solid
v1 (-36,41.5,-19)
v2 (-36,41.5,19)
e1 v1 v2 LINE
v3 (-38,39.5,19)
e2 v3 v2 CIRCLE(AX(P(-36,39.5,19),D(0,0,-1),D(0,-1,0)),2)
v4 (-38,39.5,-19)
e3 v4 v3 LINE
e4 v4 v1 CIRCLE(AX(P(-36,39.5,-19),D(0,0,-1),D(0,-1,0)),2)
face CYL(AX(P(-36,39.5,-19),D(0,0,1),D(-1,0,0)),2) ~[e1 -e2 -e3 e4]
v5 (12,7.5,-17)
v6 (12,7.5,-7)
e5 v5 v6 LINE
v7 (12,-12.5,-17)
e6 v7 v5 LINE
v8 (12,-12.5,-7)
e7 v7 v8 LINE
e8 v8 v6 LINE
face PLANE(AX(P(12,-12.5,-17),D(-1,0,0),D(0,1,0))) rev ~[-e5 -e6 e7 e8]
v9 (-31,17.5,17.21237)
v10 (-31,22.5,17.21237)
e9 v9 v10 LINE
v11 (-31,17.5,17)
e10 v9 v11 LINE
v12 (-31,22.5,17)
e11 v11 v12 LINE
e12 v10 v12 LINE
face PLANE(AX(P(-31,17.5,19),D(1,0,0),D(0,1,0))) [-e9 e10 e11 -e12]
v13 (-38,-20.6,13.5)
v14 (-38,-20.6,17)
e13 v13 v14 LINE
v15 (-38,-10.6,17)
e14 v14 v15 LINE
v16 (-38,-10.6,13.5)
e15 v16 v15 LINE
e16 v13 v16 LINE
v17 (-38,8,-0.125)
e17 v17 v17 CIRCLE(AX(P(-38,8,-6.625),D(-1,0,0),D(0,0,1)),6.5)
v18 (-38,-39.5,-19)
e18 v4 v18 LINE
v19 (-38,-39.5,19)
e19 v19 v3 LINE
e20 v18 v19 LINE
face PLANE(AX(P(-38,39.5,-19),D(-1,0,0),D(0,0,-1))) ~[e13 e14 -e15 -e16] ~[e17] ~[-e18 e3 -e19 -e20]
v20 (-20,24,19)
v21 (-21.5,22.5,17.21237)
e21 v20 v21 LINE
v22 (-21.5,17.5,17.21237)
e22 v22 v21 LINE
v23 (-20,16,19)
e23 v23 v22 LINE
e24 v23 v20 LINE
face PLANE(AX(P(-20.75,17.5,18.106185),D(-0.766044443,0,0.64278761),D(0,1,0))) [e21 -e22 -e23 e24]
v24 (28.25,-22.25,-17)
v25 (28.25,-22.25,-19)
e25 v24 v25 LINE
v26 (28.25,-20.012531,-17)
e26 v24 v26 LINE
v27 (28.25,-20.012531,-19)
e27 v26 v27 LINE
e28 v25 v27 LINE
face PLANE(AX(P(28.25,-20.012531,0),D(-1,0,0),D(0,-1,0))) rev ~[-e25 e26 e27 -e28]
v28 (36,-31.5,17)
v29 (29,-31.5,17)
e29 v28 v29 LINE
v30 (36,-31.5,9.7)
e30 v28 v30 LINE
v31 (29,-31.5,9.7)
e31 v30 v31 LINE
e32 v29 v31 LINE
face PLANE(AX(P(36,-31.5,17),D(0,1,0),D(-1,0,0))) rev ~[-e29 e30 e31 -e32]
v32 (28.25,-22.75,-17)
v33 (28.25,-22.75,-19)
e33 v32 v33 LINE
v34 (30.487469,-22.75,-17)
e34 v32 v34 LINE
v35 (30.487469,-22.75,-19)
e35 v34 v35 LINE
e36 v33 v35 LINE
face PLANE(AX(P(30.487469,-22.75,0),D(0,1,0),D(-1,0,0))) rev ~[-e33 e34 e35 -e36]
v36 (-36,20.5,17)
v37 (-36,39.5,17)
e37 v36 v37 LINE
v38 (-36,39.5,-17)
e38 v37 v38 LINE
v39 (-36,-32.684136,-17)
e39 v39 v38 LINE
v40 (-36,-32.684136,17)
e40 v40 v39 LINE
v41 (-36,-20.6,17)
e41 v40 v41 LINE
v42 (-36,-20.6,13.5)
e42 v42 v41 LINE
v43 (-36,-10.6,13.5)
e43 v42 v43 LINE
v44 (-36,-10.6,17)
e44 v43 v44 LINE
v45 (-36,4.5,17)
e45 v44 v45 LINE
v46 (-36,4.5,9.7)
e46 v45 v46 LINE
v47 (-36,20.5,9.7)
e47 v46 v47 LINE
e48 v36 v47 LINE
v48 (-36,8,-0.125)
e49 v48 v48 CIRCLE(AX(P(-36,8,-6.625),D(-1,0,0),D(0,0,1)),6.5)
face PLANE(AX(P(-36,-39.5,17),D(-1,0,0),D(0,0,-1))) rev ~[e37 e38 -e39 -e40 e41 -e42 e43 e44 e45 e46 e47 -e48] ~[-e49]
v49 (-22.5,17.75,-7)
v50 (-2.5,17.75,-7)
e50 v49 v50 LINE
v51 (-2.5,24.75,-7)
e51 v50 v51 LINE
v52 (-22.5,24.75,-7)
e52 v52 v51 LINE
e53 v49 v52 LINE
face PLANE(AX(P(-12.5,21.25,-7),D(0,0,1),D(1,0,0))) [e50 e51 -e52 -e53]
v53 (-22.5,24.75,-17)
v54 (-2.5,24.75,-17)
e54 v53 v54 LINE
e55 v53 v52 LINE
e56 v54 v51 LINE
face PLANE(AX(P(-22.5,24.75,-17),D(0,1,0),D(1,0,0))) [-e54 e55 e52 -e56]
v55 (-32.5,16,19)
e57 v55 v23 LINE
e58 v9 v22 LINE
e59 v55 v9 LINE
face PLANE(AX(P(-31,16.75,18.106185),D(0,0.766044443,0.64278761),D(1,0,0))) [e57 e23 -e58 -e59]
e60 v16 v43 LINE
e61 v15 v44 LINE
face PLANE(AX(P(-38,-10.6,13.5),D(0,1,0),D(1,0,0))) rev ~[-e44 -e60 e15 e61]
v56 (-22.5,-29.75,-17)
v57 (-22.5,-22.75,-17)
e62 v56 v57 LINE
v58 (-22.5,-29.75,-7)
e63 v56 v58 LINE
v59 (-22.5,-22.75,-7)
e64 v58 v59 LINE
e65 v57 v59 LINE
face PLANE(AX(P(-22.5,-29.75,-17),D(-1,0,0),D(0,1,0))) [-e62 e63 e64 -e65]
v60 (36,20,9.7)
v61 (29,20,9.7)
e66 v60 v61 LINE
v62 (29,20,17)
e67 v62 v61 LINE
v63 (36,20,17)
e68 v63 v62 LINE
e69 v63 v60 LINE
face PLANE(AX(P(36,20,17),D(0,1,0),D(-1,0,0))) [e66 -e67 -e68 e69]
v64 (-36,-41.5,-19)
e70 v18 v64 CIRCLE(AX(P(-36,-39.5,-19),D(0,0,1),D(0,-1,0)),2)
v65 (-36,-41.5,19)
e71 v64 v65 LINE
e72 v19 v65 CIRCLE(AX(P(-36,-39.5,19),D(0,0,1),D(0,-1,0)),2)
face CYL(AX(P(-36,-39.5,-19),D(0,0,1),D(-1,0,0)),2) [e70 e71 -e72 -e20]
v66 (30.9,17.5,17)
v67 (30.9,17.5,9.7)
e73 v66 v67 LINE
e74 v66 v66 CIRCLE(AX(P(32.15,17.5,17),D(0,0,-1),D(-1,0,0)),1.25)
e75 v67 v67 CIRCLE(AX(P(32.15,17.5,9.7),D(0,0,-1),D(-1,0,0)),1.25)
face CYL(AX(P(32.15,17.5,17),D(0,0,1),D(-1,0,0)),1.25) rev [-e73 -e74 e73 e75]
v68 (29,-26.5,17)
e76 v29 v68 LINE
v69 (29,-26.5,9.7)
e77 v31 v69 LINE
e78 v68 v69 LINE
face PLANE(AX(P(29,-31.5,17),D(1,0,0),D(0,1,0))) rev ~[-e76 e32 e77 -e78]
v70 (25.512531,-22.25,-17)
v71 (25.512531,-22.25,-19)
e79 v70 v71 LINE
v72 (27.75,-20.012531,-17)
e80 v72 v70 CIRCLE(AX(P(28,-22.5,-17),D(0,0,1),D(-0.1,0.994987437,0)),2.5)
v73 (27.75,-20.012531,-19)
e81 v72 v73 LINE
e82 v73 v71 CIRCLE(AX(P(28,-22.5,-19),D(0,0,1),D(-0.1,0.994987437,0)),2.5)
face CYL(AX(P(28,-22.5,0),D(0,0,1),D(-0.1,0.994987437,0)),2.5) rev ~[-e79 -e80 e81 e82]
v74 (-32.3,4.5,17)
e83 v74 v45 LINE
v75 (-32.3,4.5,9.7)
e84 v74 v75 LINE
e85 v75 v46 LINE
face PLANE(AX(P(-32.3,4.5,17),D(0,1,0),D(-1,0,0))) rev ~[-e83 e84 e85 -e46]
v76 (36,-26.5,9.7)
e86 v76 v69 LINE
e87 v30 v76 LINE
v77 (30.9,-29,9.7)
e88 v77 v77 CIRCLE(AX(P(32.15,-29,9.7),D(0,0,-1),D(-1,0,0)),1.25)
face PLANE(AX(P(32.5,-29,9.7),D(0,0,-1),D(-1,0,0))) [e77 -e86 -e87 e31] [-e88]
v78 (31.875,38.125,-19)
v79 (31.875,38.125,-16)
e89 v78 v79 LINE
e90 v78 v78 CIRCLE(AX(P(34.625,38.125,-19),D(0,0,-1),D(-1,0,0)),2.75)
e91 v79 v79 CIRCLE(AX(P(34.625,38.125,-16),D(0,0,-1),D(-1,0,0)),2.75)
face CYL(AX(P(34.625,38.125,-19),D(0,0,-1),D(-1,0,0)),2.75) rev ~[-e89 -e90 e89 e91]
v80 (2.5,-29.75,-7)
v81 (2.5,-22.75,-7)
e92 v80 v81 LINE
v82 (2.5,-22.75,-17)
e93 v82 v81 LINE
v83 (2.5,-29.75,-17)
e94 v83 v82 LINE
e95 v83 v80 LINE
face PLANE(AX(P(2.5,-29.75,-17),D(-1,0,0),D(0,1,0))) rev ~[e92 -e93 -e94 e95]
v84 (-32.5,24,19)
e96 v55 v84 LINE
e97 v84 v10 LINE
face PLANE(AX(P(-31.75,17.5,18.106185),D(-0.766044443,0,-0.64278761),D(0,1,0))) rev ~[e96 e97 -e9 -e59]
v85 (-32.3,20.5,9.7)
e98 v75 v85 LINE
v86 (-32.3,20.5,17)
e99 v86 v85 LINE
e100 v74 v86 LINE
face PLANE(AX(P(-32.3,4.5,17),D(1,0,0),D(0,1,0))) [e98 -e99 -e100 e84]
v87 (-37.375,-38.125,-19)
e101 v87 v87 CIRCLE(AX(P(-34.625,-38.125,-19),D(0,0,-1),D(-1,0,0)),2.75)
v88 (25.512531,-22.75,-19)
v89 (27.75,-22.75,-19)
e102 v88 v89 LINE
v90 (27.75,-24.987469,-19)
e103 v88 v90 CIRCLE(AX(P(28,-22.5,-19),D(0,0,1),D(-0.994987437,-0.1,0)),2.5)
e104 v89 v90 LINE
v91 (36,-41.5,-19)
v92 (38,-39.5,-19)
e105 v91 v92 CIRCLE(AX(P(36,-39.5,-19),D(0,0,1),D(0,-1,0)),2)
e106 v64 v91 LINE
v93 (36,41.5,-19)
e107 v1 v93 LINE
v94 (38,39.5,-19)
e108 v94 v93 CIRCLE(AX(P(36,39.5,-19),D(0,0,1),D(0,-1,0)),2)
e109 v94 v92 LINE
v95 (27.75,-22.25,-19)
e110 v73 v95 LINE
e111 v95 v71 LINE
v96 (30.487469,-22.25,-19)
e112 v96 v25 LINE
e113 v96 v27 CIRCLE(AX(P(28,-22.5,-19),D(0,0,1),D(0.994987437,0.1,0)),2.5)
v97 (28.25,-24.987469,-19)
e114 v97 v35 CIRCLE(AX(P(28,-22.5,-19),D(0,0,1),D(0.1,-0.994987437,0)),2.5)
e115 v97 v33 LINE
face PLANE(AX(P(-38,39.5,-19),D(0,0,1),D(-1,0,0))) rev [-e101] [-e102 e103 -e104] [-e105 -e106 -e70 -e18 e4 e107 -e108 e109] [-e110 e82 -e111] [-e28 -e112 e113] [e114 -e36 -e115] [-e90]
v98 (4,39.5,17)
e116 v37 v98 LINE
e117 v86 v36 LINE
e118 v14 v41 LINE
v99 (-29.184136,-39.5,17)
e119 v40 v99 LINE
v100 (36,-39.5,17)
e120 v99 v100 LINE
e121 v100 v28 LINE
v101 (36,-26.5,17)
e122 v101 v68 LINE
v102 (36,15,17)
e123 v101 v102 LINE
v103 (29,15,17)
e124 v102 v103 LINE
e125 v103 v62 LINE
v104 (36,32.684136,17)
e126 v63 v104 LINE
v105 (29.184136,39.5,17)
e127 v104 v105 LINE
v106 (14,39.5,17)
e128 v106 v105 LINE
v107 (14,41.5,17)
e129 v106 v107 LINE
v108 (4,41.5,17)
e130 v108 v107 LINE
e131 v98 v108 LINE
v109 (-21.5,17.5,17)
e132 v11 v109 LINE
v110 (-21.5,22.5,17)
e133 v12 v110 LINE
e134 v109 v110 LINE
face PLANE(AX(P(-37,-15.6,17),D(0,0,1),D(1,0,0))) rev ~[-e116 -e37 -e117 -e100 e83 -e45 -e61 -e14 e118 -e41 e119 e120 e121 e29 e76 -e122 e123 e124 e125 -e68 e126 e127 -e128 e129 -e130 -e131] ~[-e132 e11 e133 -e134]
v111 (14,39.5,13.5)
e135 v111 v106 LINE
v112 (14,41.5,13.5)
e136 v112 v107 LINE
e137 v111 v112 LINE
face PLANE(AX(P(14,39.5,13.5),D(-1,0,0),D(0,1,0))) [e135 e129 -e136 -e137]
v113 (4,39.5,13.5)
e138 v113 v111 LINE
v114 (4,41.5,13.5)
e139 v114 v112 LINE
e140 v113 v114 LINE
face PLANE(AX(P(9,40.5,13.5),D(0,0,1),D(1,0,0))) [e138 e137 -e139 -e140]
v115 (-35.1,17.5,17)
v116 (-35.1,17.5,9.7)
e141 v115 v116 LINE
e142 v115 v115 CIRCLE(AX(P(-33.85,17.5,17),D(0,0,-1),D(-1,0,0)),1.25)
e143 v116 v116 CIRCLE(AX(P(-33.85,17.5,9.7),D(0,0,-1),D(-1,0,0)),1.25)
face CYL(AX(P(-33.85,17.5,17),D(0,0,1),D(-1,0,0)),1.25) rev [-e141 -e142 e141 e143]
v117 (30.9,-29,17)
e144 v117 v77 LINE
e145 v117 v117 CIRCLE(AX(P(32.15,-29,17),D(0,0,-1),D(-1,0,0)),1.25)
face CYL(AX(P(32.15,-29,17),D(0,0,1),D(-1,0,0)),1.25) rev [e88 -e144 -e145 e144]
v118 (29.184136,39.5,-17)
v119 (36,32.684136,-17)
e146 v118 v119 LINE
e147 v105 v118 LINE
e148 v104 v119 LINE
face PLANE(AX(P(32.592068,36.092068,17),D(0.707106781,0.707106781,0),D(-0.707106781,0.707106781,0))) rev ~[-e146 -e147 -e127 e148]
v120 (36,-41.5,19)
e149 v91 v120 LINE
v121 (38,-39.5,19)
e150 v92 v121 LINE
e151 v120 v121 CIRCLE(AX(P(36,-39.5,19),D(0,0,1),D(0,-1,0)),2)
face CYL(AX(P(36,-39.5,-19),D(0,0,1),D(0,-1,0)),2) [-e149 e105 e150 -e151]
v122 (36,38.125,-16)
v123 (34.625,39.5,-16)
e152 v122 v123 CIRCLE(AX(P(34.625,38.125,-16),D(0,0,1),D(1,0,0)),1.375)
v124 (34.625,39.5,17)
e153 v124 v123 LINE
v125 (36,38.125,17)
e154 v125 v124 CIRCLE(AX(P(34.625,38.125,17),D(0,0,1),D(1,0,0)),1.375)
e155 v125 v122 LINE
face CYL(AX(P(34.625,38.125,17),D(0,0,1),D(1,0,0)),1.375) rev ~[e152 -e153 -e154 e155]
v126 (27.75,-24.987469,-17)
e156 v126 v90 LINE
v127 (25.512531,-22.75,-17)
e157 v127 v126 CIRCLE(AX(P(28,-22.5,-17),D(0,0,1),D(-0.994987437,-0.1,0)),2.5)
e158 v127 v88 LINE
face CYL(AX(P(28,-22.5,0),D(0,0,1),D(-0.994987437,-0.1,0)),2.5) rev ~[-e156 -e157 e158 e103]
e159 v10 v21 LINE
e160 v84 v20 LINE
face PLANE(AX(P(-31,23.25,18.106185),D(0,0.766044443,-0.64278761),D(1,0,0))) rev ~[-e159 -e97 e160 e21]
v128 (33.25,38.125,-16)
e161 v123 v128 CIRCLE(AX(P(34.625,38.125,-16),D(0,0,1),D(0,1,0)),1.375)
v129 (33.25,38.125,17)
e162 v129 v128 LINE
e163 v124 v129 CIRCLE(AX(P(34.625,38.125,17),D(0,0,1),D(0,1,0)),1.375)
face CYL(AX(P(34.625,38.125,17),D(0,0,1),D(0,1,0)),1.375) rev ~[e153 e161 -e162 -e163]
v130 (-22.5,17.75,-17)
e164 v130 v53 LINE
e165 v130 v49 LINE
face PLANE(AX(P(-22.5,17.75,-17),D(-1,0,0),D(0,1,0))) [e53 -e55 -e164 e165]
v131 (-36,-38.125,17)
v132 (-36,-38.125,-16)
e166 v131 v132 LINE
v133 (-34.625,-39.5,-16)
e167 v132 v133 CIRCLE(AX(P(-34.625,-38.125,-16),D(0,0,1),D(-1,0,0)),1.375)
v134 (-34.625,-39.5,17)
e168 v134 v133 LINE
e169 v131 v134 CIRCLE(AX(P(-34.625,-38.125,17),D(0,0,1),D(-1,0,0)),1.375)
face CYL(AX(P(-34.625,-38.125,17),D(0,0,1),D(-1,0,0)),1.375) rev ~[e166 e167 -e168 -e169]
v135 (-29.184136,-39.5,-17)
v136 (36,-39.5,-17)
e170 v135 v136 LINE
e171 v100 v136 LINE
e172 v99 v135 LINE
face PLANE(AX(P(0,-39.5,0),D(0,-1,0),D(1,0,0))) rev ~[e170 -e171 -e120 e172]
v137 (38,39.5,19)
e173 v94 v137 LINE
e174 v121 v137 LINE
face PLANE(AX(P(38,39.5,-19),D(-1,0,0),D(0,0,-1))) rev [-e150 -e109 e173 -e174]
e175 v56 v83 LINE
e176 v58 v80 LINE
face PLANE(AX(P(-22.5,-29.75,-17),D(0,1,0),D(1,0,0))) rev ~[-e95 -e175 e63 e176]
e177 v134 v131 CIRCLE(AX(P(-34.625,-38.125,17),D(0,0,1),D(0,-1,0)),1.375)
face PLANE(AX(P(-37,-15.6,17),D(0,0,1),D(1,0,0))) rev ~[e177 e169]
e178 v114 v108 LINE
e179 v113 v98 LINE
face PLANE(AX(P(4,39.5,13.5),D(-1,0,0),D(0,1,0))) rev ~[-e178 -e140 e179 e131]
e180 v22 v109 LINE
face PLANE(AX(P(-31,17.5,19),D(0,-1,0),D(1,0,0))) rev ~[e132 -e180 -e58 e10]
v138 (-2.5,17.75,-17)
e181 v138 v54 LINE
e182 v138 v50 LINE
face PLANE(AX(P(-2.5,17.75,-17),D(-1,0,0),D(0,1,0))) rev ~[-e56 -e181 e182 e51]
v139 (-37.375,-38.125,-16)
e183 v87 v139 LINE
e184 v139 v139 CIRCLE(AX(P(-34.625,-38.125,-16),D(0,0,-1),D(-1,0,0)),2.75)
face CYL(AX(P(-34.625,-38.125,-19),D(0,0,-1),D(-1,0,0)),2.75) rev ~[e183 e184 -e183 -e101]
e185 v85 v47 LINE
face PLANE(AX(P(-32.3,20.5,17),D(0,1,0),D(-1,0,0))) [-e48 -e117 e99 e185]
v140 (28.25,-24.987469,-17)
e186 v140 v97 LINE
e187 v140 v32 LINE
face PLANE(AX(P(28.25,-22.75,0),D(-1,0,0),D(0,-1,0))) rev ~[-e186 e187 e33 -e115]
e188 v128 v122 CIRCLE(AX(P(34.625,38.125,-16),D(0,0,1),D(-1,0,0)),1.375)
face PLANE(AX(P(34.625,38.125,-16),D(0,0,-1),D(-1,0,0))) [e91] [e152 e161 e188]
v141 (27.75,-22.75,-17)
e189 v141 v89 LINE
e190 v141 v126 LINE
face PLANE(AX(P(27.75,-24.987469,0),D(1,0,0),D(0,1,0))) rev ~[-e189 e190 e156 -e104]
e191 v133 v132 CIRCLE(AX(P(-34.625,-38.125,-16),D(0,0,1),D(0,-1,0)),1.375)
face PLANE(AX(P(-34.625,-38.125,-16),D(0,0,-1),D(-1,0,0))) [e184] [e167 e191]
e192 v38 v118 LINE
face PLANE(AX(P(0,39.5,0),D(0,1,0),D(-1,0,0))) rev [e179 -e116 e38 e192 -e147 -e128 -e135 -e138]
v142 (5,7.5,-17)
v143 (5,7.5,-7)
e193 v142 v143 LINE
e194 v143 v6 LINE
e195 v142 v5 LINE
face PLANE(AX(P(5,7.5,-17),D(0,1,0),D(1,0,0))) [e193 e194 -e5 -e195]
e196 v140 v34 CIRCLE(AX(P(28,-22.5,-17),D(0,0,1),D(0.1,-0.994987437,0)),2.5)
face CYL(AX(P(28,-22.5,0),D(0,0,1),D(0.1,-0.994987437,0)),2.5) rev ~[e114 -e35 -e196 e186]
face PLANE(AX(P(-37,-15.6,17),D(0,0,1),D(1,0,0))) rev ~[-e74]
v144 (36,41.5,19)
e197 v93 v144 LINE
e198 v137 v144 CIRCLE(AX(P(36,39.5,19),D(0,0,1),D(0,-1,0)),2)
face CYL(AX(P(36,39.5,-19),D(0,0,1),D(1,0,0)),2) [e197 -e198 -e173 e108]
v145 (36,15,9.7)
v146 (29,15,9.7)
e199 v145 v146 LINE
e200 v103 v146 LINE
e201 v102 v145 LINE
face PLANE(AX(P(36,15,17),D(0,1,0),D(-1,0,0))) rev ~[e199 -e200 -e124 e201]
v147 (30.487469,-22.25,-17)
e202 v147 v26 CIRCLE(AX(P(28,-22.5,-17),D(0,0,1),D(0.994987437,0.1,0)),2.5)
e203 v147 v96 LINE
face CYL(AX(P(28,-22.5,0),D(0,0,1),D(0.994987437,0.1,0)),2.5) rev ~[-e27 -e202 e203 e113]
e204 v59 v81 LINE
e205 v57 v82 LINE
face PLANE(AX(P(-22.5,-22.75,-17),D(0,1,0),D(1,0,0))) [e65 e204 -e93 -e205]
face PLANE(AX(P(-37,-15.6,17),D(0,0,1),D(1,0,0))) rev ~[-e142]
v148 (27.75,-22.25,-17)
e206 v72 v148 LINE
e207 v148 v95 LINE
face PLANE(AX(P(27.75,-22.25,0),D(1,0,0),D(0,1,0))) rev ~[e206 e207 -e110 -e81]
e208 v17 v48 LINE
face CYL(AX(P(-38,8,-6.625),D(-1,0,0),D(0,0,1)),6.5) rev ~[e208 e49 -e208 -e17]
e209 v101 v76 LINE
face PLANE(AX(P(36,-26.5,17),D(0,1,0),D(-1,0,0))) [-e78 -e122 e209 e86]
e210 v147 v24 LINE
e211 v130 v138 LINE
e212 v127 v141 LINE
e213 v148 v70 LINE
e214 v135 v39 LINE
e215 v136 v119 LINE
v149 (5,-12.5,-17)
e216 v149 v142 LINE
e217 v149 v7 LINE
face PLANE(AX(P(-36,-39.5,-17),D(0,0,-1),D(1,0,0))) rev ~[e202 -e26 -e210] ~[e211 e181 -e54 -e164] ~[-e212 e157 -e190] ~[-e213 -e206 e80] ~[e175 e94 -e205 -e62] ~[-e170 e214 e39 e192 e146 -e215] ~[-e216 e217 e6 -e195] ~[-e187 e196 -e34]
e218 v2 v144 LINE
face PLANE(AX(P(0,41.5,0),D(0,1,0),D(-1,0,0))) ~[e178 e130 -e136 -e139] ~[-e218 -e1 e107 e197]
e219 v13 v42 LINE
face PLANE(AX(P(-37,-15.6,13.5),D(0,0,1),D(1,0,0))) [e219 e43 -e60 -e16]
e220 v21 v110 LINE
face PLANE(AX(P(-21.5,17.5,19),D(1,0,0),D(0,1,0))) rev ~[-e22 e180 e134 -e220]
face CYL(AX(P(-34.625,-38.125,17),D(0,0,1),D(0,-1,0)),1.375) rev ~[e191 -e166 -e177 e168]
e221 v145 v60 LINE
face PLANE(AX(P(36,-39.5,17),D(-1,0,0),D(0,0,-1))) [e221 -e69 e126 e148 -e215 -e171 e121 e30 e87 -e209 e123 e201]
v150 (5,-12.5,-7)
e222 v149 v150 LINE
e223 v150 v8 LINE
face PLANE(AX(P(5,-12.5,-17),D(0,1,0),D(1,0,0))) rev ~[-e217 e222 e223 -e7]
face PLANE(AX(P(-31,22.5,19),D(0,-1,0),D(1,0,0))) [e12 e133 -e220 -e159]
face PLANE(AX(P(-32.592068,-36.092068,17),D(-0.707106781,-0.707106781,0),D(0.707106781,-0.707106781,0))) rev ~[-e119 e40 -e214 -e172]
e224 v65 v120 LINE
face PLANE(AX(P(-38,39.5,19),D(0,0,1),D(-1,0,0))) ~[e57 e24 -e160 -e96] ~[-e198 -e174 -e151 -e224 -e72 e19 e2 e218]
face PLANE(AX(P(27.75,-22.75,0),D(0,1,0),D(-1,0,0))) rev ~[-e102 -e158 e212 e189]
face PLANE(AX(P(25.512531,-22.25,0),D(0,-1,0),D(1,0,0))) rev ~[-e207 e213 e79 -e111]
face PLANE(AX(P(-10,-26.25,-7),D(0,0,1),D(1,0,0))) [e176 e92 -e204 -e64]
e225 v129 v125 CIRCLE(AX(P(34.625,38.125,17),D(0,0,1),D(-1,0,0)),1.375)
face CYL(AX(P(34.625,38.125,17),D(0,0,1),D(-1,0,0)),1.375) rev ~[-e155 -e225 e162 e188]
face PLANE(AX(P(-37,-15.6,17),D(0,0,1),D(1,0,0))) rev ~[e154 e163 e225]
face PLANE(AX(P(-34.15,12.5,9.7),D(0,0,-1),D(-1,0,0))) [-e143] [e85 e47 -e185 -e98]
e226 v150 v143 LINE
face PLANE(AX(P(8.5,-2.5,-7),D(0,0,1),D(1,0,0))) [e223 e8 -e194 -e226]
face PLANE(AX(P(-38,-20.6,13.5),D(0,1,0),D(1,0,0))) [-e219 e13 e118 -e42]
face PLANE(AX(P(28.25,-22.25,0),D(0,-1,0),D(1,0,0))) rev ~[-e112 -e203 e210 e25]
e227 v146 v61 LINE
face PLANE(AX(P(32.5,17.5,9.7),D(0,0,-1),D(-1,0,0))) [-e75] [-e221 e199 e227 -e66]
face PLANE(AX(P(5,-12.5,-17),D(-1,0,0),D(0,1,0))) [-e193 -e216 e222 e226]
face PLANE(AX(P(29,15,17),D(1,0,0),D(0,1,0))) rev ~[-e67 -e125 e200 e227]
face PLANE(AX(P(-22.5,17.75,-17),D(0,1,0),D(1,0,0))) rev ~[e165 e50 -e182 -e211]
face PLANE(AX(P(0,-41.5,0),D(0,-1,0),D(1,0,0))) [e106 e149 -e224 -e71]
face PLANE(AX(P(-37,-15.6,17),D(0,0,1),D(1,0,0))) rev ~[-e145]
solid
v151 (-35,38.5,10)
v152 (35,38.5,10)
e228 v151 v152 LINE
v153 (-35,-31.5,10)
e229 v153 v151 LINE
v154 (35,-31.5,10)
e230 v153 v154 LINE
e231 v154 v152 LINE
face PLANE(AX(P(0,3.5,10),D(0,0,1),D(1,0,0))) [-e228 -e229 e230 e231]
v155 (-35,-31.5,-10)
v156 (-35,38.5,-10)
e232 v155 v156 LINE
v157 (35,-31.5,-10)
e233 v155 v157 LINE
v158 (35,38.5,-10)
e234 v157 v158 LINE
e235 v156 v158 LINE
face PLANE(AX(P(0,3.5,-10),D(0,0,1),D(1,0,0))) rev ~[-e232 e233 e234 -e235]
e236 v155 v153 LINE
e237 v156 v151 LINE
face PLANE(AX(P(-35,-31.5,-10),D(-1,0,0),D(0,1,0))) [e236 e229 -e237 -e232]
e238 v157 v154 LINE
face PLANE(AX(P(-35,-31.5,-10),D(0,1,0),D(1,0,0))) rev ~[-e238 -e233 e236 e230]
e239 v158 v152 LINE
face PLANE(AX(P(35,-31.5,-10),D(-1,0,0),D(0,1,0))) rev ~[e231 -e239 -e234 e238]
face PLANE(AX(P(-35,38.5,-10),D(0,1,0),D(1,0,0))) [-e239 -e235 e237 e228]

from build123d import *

# Parameters (mm, degrees)
BOSS_EXTRUDE2_DEPTH      = 39.5
BOSS_EXTRUDE2_DEPTH_BACK = 39.5
SKETCH1_W                = 76
SKETCH1_H                = 38
SKETCH1_W_2              = 72
SKETCH1_H_2              = 34
SKETCH2_W                = 76
SKETCH2_H                = 38
BOSS_EXTRUDE3_DEPTH      = 2
BOSS_EXTRUDE4_DEPTH      = 10
BOSS_EXTRUDE4_DEPTH_BACK = 10
SKETCH6_W                = 70
SKETCH6_H                = 70
FILLET1_R                = 2
CUT_EXTRUDE1_DEPTH       = 1
CUT_EXTRUDE1_DEPTH_BACK  = 2.5
SKETCH7_W                = 2
SKETCH7_H                = 10
SKETCH7_W_2              = 10
SKETCH7_H_2              = 2
SKETCH8_R                = 6.5
CUT_EXTRUDE2_DEPTH       = 2
SKETCH9_W                = 20
SKETCH9_H                = 7
SKETCH9_W_2              = 25
SKETCH9_W_3              = 7
SKETCH9_H_2              = 20
BOSS_EXTRUDE5_DEPTH      = 10
SKETCH10_W               = 9.5
SKETCH10_H               = 5
CUT_EXTRUDE3_DEPTH       = 2
CHAMFER1_SIZE            = 1.5
CHAMFER1_SIZE2           = 1.787630389
SKETCH11_W               = 3.7
SKETCH11_H               = 16
SKETCH11_R               = 1.25
SKETCH11_W_2             = 7
SKETCH11_H_2             = 5
BOSS_EXTRUDE10_DEPTH     = 7.3
CUT_EXTRUDE6_DEPTH       = 60.390655831
BOSS_EXTRUDE11_REACH     = 68.8
SKETCH17_R               = 2.75
CUT_EXTRUDE9_DEPTH       = 3


with BuildPart() as part:
    # Sketch1 → Boss-Extrude2 (new, two sides: drawn at the far end of the back side and taken through both)
    with BuildSketch(Plane(origin=(0, 0, 0), x_dir=(1, 0, 0), z_dir=(0, 1, 0)).offset(-BOSS_EXTRUDE2_DEPTH_BACK)):
        Rectangle(SKETCH1_W, SKETCH1_H)
        Rectangle(SKETCH1_W_2, SKETCH1_H_2, mode=Mode.SUBTRACT)
    extrude(amount=BOSS_EXTRUDE2_DEPTH + BOSS_EXTRUDE2_DEPTH_BACK)

    # Sketch2 → Boss-Extrude3 (add)
    with BuildSketch(Plane.XZ.offset(39.5)):
        Rectangle(SKETCH2_W, SKETCH2_H)
    boss_extrude3 = extrude(amount=BOSS_EXTRUDE3_DEPTH)

    # Mirror1: Boss-Extrude3 across plane
    add(boss_extrude3.mirror(Plane.ZX))

    # Fillet1
    fillet1_edges = [part.edges().sort_by_distance(p)[0] for p in [
        (38, -41.5, 0),
        (-38, -41.5, 0),
        (38, 41.5, 0),
        (-38, 41.5, 0),
    ]]
    fillet(fillet1_edges, radius=FILLET1_R)

    # Sketch7 → Cut-Extrude1 (cut, two sides: drawn at the far end of the back side and taken through both)
    with BuildSketch(Plane.XY.offset(16).offset(-CUT_EXTRUDE1_DEPTH_BACK)):
        with Locations((-37, -15.6)):
            Rectangle(SKETCH7_W, SKETCH7_H)
        with Locations((9, 40.5)):
            Rectangle(SKETCH7_W_2, SKETCH7_H_2)
    extrude(amount=CUT_EXTRUDE1_DEPTH + CUT_EXTRUDE1_DEPTH_BACK, mode=Mode.SUBTRACT)

    # Sketch8 → Cut-Extrude2 (cut)
    with BuildSketch(Plane.ZY.offset(38)):
        with Locations((-6.625, 8)):
            Circle(SKETCH8_R)
    extrude(amount=-CUT_EXTRUDE2_DEPTH, mode=Mode.SUBTRACT)

    # Sketch9 → Boss-Extrude5 (add)
    with BuildSketch(Plane.XY.offset(-17)):
        with Locations((-12.5, 21.25)):
            Rectangle(SKETCH9_W, SKETCH9_H)
        with Locations((-10, -26.25)):
            Rectangle(SKETCH9_W_2, SKETCH9_H)
        with Locations((8.5, -2.5)):
            Rectangle(SKETCH9_W_3, SKETCH9_H_2)
    extrude(amount=BOSS_EXTRUDE5_DEPTH)

    # Sketch10 → Cut-Extrude3 (cut)
    with BuildSketch(Plane.XY.offset(19)):
        with Locations((-26.25, 20)):
            Rectangle(SKETCH10_W, SKETCH10_H)
    extrude(amount=-CUT_EXTRUDE3_DEPTH, mode=Mode.SUBTRACT)

    # Chamfer1
    chamfer1_edges = [part.edges().sort_by_distance(p)[0] for p in [
        (-21.5, 20, 19),
        (-26.25, 22.5, 19),
        (-31, 20, 19),
        (-26.25, 17.5, 19),
    ]]
    chamfer1_side = [part.faces().sort_by_distance(p)[0] for p in [
        (0.199274696, -0.15182834, 19),
    ]]
    chamfer(chamfer1_edges, length=CHAMFER1_SIZE, length2=CHAMFER1_SIZE2, reference=chamfer1_side[0])

    # Sketch11 → Boss-Extrude10 (add)
    # profile 1 of 3: a face of its own
    with BuildSketch(Plane(origin=(0, 0, 17), x_dir=(-1, 0, 0), z_dir=(0, 0, -1))):
        with Locations((34.15, 12.5)):
            Rectangle(SKETCH11_W, SKETCH11_H)
        with Locations((33.85, 17.5)):
            Circle(SKETCH11_R, mode=Mode.SUBTRACT)
    # profile 2 of 3: a face of its own
    with BuildSketch(Plane(origin=(0, 0, 17), x_dir=(-1, 0, 0), z_dir=(0, 0, -1))):
        with Locations((-32.5, 17.5)):
            Rectangle(SKETCH11_W_2, SKETCH11_H_2)
        with Locations((-32.15, 17.5)):
            Circle(SKETCH11_R, mode=Mode.SUBTRACT)
    # profile 3 of 3: a face of its own
    with BuildSketch(Plane(origin=(0, 0, 17), x_dir=(-1, 0, 0), z_dir=(0, 0, -1))):
        with Locations((-32.5, -29)):
            Rectangle(SKETCH11_W_2, SKETCH11_H_2)
        with Locations((-32.15, -29)):
            Circle(SKETCH11_R, mode=Mode.SUBTRACT)
    extrude(amount=BOSS_EXTRUDE10_DEPTH)

    # Sketch15 → Cut-Extrude6 (cut, through all)
    with BuildSketch(Plane.XY):
        with BuildLine():
            Line((28.25, -22.25), (30.487468593, -22.25))
            ThreePointArc((30.487468593, -22.25), (29.767766953, -20.732233047), (28.25, -20.012531407))
            Line((28.25, -20.012531407), (28.25, -22.25))
        make_face()
        with BuildLine():
            Line((25.512531407, -22.25), (27.75, -22.25))
            Line((27.75, -22.25), (27.75, -20.012531407))
            ThreePointArc((27.75, -20.012531407), (26.232233047, -20.732233047), (25.512531407, -22.25))
        make_face()
        with BuildLine():
            Line((27.75, -24.987468593), (27.75, -22.75))
            Line((27.75, -22.75), (25.512531407, -22.75))
            ThreePointArc((25.512531407, -22.75), (26.232233047, -24.267766953), (27.75, -24.987468593))
        make_face()
        with BuildLine():
            Line((30.487468593, -22.75), (28.25, -22.75))
            Line((28.25, -22.75), (28.25, -24.987468593))
            ThreePointArc((28.25, -24.987468593), (29.767766953, -24.267766953), (30.487468593, -22.75))
        make_face()
    extrude(amount=-CUT_EXTRUDE6_DEPTH, mode=Mode.SUBTRACT)

    # Sketch16 → Boss-Extrude11 (add, up to next)
    with BuildSketch(Plane(origin=(0, 0, 17), x_dir=(-1, 0, 0), z_dir=(0, 0, -1)), mode=Mode.PRIVATE) as boss_extrude11_sk1:
        with BuildLine():
            Line((-36, 35.600123765), (-36, 32.684136008))
            Line((-36, 32.684136008), (-32.592068004, 36.092068004))
            ThreePointArc((-32.592068004, 36.092068004), (-34.214243489, 35.279494054), (-36, 35.600123765))
        make_face()
    boss_extrude11_tool1 = extrude(boss_extrude11_sk1.sketch, amount=BOSS_EXTRUDE11_REACH, mode=Mode.PRIVATE) - part.part
    # Sketch16 → Boss-Extrude11 (add, up to next)
    with BuildSketch(Plane(origin=(0, 0, 17), x_dir=(-1, 0, 0), z_dir=(0, 0, -1)), mode=Mode.PRIVATE) as boss_extrude11_sk2:
        with BuildLine():
            ThreePointArc((-36, 35.600123765), (-34.214243489, 35.279494054), (-32.592068004, 36.092068004))
            ThreePointArc((-32.592068004, 36.092068004), (-31.968846344, 37.024785132), (-31.75, 38.125))
            ThreePointArc((-31.75, 38.125), (-31.838905585, 38.834438449), (-32.100123765, 39.5))
            Line((-32.100123765, 39.5), (-34.625, 39.5))
            ThreePointArc((-34.625, 39.5), (-33.652728176, 39.097271824), (-33.25, 38.125))
            ThreePointArc((-33.25, 38.125), (-34.625, 36.75), (-36, 38.125))
            Line((-36, 38.125), (-36, 35.600123765))
        make_face()
    boss_extrude11_tool2 = extrude(boss_extrude11_sk2.sketch, amount=BOSS_EXTRUDE11_REACH, mode=Mode.PRIVATE) - part.part
    # Sketch16 → Boss-Extrude11 (add, up to next)
    with BuildSketch(Plane(origin=(0, 0, 17), x_dir=(-1, 0, 0), z_dir=(0, 0, -1)), mode=Mode.PRIVATE) as boss_extrude11_sk3:
        with BuildLine():
            ThreePointArc((-31.75, 38.125), (-31.968846344, 37.024785132), (-32.592068004, 36.092068004))
            Line((-32.592068004, 36.092068004), (-29.184136008, 39.5))
            Line((-29.184136008, 39.5), (-32.100123765, 39.5))
            ThreePointArc((-32.100123765, 39.5), (-31.838905585, 38.834438449), (-31.75, 38.125))
        make_face()
    boss_extrude11_tool3 = extrude(boss_extrude11_sk3.sketch, amount=BOSS_EXTRUDE11_REACH, mode=Mode.PRIVATE) - part.part
    # Sketch16 → Boss-Extrude11 (add, up to next)
    with BuildSketch(Plane(origin=(0, 0, 17), x_dir=(-1, 0, 0), z_dir=(0, 0, -1)), mode=Mode.PRIVATE) as boss_extrude11_sk4:
        with BuildLine():
            Line((-36, 39.5), (-36, 38.125))
            ThreePointArc((-36, 38.125), (-35.597271824, 39.097271824), (-34.625, 39.5))
            Line((-34.625, 39.5), (-36, 39.5))
        make_face()
    boss_extrude11_tool4 = extrude(boss_extrude11_sk4.sketch, amount=BOSS_EXTRUDE11_REACH, mode=Mode.PRIVATE) - part.part
    # Sketch16 → Boss-Extrude11 (add, up to next)
    with BuildSketch(Plane(origin=(0, 0, 17), x_dir=(-1, 0, 0), z_dir=(0, 0, -1)), mode=Mode.PRIVATE) as boss_extrude11_sk5:
        with BuildLine():
            ThreePointArc((36, -38.125), (35.597271824, -39.097271824), (34.625, -39.5))
            Line((34.625, -39.5), (36, -39.5))
            Line((36, -39.5), (36, -38.125))
        make_face()
    boss_extrude11_tool5 = extrude(boss_extrude11_sk5.sketch, amount=BOSS_EXTRUDE11_REACH, mode=Mode.PRIVATE) - part.part
    # Sketch16 → Boss-Extrude11 (add, up to next)
    with BuildSketch(Plane(origin=(0, 0, 17), x_dir=(-1, 0, 0), z_dir=(0, 0, -1)), mode=Mode.PRIVATE) as boss_extrude11_sk6:
        with BuildLine():
            ThreePointArc((36, -35.600123765), (34.214243489, -35.279494054), (32.592068004, -36.092068004))
            ThreePointArc((32.592068004, -36.092068004), (31.779494054, -37.714243489), (32.100123765, -39.5))
            Line((32.100123765, -39.5), (34.625, -39.5))
            ThreePointArc((34.625, -39.5), (33.652728176, -37.152728176), (36, -38.125))
            Line((36, -38.125), (36, -35.600123765))
        make_face()
    boss_extrude11_tool6 = extrude(boss_extrude11_sk6.sketch, amount=BOSS_EXTRUDE11_REACH, mode=Mode.PRIVATE) - part.part
    # Sketch16 → Boss-Extrude11 (add, up to next)
    with BuildSketch(Plane(origin=(0, 0, 17), x_dir=(-1, 0, 0), z_dir=(0, 0, -1)), mode=Mode.PRIVATE) as boss_extrude11_sk7:
        with BuildLine():
            Line((36, -32.684136008), (32.592068004, -36.092068004))
            ThreePointArc((32.592068004, -36.092068004), (34.214243489, -35.279494054), (36, -35.600123765))
            Line((36, -35.600123765), (36, -32.684136008))
        make_face()
    boss_extrude11_tool7 = extrude(boss_extrude11_sk7.sketch, amount=BOSS_EXTRUDE11_REACH, mode=Mode.PRIVATE) - part.part
    # Sketch16 → Boss-Extrude11 (add, up to next)
    with BuildSketch(Plane(origin=(0, 0, 17), x_dir=(-1, 0, 0), z_dir=(0, 0, -1)), mode=Mode.PRIVATE) as boss_extrude11_sk8:
        with BuildLine():
            Line((32.592068004, -36.092068004), (29.184136008, -39.5))
            Line((29.184136008, -39.5), (32.100123765, -39.5))
            ThreePointArc((32.100123765, -39.5), (31.779494054, -37.714243489), (32.592068004, -36.092068004))
        make_face()
    boss_extrude11_tool8 = extrude(boss_extrude11_sk8.sketch, amount=BOSS_EXTRUDE11_REACH, mode=Mode.PRIVATE) - part.part
    add(boss_extrude11_tool1.solids().sort_by_distance((35.086577, 34.486498, 17))[0])
    add(boss_extrude11_tool2.solids().sort_by_distance((33.6128, 37.1128, 17))[0])
    add(boss_extrude11_tool3.solids().sort_by_distance((30.986498, 38.586577, 17))[0])
    add(boss_extrude11_tool4.solids().sort_by_distance((35.692869, 39.192869, 17))[0])
    add(boss_extrude11_tool5.solids().sort_by_distance((-35.692869, -39.192869, 17))[0])
    add(boss_extrude11_tool6.solids().sort_by_distance((-33.6128, -37.1128, 17))[0])
    add(boss_extrude11_tool7.solids().sort_by_distance((-35.086577, -34.486498, 17))[0])
    add(boss_extrude11_tool8.solids().sort_by_distance((-30.986498, -38.586577, 17))[0])

    # Sketch17 → Cut-Extrude9 (cut)
    with BuildSketch(Plane(origin=(0, 0, -19), x_dir=(-1, 0, 0), z_dir=(0, 0, -1))):
        with Locations((-34.625, 38.125)):
            Circle(SKETCH17_R)
        with Locations((34.625, -38.125)):
            Circle(SKETCH17_R)
    extrude(amount=-CUT_EXTRUDE9_DEPTH, mode=Mode.SUBTRACT)


with BuildPart() as body_2:
    # Sketch6 → Boss-Extrude4 (new, two sides: drawn at the far end of the back side and taken through both)
    with BuildSketch(Plane.XY.offset(-BOSS_EXTRUDE4_DEPTH_BACK)):
        with Locations((0, 3.5)):
            Rectangle(SKETCH6_W, SKETCH6_H)
    extrude(amount=BOSS_EXTRUDE4_DEPTH + BOSS_EXTRUDE4_DEPTH_BACK)


solid = Compound([part.part, body_2.part])
